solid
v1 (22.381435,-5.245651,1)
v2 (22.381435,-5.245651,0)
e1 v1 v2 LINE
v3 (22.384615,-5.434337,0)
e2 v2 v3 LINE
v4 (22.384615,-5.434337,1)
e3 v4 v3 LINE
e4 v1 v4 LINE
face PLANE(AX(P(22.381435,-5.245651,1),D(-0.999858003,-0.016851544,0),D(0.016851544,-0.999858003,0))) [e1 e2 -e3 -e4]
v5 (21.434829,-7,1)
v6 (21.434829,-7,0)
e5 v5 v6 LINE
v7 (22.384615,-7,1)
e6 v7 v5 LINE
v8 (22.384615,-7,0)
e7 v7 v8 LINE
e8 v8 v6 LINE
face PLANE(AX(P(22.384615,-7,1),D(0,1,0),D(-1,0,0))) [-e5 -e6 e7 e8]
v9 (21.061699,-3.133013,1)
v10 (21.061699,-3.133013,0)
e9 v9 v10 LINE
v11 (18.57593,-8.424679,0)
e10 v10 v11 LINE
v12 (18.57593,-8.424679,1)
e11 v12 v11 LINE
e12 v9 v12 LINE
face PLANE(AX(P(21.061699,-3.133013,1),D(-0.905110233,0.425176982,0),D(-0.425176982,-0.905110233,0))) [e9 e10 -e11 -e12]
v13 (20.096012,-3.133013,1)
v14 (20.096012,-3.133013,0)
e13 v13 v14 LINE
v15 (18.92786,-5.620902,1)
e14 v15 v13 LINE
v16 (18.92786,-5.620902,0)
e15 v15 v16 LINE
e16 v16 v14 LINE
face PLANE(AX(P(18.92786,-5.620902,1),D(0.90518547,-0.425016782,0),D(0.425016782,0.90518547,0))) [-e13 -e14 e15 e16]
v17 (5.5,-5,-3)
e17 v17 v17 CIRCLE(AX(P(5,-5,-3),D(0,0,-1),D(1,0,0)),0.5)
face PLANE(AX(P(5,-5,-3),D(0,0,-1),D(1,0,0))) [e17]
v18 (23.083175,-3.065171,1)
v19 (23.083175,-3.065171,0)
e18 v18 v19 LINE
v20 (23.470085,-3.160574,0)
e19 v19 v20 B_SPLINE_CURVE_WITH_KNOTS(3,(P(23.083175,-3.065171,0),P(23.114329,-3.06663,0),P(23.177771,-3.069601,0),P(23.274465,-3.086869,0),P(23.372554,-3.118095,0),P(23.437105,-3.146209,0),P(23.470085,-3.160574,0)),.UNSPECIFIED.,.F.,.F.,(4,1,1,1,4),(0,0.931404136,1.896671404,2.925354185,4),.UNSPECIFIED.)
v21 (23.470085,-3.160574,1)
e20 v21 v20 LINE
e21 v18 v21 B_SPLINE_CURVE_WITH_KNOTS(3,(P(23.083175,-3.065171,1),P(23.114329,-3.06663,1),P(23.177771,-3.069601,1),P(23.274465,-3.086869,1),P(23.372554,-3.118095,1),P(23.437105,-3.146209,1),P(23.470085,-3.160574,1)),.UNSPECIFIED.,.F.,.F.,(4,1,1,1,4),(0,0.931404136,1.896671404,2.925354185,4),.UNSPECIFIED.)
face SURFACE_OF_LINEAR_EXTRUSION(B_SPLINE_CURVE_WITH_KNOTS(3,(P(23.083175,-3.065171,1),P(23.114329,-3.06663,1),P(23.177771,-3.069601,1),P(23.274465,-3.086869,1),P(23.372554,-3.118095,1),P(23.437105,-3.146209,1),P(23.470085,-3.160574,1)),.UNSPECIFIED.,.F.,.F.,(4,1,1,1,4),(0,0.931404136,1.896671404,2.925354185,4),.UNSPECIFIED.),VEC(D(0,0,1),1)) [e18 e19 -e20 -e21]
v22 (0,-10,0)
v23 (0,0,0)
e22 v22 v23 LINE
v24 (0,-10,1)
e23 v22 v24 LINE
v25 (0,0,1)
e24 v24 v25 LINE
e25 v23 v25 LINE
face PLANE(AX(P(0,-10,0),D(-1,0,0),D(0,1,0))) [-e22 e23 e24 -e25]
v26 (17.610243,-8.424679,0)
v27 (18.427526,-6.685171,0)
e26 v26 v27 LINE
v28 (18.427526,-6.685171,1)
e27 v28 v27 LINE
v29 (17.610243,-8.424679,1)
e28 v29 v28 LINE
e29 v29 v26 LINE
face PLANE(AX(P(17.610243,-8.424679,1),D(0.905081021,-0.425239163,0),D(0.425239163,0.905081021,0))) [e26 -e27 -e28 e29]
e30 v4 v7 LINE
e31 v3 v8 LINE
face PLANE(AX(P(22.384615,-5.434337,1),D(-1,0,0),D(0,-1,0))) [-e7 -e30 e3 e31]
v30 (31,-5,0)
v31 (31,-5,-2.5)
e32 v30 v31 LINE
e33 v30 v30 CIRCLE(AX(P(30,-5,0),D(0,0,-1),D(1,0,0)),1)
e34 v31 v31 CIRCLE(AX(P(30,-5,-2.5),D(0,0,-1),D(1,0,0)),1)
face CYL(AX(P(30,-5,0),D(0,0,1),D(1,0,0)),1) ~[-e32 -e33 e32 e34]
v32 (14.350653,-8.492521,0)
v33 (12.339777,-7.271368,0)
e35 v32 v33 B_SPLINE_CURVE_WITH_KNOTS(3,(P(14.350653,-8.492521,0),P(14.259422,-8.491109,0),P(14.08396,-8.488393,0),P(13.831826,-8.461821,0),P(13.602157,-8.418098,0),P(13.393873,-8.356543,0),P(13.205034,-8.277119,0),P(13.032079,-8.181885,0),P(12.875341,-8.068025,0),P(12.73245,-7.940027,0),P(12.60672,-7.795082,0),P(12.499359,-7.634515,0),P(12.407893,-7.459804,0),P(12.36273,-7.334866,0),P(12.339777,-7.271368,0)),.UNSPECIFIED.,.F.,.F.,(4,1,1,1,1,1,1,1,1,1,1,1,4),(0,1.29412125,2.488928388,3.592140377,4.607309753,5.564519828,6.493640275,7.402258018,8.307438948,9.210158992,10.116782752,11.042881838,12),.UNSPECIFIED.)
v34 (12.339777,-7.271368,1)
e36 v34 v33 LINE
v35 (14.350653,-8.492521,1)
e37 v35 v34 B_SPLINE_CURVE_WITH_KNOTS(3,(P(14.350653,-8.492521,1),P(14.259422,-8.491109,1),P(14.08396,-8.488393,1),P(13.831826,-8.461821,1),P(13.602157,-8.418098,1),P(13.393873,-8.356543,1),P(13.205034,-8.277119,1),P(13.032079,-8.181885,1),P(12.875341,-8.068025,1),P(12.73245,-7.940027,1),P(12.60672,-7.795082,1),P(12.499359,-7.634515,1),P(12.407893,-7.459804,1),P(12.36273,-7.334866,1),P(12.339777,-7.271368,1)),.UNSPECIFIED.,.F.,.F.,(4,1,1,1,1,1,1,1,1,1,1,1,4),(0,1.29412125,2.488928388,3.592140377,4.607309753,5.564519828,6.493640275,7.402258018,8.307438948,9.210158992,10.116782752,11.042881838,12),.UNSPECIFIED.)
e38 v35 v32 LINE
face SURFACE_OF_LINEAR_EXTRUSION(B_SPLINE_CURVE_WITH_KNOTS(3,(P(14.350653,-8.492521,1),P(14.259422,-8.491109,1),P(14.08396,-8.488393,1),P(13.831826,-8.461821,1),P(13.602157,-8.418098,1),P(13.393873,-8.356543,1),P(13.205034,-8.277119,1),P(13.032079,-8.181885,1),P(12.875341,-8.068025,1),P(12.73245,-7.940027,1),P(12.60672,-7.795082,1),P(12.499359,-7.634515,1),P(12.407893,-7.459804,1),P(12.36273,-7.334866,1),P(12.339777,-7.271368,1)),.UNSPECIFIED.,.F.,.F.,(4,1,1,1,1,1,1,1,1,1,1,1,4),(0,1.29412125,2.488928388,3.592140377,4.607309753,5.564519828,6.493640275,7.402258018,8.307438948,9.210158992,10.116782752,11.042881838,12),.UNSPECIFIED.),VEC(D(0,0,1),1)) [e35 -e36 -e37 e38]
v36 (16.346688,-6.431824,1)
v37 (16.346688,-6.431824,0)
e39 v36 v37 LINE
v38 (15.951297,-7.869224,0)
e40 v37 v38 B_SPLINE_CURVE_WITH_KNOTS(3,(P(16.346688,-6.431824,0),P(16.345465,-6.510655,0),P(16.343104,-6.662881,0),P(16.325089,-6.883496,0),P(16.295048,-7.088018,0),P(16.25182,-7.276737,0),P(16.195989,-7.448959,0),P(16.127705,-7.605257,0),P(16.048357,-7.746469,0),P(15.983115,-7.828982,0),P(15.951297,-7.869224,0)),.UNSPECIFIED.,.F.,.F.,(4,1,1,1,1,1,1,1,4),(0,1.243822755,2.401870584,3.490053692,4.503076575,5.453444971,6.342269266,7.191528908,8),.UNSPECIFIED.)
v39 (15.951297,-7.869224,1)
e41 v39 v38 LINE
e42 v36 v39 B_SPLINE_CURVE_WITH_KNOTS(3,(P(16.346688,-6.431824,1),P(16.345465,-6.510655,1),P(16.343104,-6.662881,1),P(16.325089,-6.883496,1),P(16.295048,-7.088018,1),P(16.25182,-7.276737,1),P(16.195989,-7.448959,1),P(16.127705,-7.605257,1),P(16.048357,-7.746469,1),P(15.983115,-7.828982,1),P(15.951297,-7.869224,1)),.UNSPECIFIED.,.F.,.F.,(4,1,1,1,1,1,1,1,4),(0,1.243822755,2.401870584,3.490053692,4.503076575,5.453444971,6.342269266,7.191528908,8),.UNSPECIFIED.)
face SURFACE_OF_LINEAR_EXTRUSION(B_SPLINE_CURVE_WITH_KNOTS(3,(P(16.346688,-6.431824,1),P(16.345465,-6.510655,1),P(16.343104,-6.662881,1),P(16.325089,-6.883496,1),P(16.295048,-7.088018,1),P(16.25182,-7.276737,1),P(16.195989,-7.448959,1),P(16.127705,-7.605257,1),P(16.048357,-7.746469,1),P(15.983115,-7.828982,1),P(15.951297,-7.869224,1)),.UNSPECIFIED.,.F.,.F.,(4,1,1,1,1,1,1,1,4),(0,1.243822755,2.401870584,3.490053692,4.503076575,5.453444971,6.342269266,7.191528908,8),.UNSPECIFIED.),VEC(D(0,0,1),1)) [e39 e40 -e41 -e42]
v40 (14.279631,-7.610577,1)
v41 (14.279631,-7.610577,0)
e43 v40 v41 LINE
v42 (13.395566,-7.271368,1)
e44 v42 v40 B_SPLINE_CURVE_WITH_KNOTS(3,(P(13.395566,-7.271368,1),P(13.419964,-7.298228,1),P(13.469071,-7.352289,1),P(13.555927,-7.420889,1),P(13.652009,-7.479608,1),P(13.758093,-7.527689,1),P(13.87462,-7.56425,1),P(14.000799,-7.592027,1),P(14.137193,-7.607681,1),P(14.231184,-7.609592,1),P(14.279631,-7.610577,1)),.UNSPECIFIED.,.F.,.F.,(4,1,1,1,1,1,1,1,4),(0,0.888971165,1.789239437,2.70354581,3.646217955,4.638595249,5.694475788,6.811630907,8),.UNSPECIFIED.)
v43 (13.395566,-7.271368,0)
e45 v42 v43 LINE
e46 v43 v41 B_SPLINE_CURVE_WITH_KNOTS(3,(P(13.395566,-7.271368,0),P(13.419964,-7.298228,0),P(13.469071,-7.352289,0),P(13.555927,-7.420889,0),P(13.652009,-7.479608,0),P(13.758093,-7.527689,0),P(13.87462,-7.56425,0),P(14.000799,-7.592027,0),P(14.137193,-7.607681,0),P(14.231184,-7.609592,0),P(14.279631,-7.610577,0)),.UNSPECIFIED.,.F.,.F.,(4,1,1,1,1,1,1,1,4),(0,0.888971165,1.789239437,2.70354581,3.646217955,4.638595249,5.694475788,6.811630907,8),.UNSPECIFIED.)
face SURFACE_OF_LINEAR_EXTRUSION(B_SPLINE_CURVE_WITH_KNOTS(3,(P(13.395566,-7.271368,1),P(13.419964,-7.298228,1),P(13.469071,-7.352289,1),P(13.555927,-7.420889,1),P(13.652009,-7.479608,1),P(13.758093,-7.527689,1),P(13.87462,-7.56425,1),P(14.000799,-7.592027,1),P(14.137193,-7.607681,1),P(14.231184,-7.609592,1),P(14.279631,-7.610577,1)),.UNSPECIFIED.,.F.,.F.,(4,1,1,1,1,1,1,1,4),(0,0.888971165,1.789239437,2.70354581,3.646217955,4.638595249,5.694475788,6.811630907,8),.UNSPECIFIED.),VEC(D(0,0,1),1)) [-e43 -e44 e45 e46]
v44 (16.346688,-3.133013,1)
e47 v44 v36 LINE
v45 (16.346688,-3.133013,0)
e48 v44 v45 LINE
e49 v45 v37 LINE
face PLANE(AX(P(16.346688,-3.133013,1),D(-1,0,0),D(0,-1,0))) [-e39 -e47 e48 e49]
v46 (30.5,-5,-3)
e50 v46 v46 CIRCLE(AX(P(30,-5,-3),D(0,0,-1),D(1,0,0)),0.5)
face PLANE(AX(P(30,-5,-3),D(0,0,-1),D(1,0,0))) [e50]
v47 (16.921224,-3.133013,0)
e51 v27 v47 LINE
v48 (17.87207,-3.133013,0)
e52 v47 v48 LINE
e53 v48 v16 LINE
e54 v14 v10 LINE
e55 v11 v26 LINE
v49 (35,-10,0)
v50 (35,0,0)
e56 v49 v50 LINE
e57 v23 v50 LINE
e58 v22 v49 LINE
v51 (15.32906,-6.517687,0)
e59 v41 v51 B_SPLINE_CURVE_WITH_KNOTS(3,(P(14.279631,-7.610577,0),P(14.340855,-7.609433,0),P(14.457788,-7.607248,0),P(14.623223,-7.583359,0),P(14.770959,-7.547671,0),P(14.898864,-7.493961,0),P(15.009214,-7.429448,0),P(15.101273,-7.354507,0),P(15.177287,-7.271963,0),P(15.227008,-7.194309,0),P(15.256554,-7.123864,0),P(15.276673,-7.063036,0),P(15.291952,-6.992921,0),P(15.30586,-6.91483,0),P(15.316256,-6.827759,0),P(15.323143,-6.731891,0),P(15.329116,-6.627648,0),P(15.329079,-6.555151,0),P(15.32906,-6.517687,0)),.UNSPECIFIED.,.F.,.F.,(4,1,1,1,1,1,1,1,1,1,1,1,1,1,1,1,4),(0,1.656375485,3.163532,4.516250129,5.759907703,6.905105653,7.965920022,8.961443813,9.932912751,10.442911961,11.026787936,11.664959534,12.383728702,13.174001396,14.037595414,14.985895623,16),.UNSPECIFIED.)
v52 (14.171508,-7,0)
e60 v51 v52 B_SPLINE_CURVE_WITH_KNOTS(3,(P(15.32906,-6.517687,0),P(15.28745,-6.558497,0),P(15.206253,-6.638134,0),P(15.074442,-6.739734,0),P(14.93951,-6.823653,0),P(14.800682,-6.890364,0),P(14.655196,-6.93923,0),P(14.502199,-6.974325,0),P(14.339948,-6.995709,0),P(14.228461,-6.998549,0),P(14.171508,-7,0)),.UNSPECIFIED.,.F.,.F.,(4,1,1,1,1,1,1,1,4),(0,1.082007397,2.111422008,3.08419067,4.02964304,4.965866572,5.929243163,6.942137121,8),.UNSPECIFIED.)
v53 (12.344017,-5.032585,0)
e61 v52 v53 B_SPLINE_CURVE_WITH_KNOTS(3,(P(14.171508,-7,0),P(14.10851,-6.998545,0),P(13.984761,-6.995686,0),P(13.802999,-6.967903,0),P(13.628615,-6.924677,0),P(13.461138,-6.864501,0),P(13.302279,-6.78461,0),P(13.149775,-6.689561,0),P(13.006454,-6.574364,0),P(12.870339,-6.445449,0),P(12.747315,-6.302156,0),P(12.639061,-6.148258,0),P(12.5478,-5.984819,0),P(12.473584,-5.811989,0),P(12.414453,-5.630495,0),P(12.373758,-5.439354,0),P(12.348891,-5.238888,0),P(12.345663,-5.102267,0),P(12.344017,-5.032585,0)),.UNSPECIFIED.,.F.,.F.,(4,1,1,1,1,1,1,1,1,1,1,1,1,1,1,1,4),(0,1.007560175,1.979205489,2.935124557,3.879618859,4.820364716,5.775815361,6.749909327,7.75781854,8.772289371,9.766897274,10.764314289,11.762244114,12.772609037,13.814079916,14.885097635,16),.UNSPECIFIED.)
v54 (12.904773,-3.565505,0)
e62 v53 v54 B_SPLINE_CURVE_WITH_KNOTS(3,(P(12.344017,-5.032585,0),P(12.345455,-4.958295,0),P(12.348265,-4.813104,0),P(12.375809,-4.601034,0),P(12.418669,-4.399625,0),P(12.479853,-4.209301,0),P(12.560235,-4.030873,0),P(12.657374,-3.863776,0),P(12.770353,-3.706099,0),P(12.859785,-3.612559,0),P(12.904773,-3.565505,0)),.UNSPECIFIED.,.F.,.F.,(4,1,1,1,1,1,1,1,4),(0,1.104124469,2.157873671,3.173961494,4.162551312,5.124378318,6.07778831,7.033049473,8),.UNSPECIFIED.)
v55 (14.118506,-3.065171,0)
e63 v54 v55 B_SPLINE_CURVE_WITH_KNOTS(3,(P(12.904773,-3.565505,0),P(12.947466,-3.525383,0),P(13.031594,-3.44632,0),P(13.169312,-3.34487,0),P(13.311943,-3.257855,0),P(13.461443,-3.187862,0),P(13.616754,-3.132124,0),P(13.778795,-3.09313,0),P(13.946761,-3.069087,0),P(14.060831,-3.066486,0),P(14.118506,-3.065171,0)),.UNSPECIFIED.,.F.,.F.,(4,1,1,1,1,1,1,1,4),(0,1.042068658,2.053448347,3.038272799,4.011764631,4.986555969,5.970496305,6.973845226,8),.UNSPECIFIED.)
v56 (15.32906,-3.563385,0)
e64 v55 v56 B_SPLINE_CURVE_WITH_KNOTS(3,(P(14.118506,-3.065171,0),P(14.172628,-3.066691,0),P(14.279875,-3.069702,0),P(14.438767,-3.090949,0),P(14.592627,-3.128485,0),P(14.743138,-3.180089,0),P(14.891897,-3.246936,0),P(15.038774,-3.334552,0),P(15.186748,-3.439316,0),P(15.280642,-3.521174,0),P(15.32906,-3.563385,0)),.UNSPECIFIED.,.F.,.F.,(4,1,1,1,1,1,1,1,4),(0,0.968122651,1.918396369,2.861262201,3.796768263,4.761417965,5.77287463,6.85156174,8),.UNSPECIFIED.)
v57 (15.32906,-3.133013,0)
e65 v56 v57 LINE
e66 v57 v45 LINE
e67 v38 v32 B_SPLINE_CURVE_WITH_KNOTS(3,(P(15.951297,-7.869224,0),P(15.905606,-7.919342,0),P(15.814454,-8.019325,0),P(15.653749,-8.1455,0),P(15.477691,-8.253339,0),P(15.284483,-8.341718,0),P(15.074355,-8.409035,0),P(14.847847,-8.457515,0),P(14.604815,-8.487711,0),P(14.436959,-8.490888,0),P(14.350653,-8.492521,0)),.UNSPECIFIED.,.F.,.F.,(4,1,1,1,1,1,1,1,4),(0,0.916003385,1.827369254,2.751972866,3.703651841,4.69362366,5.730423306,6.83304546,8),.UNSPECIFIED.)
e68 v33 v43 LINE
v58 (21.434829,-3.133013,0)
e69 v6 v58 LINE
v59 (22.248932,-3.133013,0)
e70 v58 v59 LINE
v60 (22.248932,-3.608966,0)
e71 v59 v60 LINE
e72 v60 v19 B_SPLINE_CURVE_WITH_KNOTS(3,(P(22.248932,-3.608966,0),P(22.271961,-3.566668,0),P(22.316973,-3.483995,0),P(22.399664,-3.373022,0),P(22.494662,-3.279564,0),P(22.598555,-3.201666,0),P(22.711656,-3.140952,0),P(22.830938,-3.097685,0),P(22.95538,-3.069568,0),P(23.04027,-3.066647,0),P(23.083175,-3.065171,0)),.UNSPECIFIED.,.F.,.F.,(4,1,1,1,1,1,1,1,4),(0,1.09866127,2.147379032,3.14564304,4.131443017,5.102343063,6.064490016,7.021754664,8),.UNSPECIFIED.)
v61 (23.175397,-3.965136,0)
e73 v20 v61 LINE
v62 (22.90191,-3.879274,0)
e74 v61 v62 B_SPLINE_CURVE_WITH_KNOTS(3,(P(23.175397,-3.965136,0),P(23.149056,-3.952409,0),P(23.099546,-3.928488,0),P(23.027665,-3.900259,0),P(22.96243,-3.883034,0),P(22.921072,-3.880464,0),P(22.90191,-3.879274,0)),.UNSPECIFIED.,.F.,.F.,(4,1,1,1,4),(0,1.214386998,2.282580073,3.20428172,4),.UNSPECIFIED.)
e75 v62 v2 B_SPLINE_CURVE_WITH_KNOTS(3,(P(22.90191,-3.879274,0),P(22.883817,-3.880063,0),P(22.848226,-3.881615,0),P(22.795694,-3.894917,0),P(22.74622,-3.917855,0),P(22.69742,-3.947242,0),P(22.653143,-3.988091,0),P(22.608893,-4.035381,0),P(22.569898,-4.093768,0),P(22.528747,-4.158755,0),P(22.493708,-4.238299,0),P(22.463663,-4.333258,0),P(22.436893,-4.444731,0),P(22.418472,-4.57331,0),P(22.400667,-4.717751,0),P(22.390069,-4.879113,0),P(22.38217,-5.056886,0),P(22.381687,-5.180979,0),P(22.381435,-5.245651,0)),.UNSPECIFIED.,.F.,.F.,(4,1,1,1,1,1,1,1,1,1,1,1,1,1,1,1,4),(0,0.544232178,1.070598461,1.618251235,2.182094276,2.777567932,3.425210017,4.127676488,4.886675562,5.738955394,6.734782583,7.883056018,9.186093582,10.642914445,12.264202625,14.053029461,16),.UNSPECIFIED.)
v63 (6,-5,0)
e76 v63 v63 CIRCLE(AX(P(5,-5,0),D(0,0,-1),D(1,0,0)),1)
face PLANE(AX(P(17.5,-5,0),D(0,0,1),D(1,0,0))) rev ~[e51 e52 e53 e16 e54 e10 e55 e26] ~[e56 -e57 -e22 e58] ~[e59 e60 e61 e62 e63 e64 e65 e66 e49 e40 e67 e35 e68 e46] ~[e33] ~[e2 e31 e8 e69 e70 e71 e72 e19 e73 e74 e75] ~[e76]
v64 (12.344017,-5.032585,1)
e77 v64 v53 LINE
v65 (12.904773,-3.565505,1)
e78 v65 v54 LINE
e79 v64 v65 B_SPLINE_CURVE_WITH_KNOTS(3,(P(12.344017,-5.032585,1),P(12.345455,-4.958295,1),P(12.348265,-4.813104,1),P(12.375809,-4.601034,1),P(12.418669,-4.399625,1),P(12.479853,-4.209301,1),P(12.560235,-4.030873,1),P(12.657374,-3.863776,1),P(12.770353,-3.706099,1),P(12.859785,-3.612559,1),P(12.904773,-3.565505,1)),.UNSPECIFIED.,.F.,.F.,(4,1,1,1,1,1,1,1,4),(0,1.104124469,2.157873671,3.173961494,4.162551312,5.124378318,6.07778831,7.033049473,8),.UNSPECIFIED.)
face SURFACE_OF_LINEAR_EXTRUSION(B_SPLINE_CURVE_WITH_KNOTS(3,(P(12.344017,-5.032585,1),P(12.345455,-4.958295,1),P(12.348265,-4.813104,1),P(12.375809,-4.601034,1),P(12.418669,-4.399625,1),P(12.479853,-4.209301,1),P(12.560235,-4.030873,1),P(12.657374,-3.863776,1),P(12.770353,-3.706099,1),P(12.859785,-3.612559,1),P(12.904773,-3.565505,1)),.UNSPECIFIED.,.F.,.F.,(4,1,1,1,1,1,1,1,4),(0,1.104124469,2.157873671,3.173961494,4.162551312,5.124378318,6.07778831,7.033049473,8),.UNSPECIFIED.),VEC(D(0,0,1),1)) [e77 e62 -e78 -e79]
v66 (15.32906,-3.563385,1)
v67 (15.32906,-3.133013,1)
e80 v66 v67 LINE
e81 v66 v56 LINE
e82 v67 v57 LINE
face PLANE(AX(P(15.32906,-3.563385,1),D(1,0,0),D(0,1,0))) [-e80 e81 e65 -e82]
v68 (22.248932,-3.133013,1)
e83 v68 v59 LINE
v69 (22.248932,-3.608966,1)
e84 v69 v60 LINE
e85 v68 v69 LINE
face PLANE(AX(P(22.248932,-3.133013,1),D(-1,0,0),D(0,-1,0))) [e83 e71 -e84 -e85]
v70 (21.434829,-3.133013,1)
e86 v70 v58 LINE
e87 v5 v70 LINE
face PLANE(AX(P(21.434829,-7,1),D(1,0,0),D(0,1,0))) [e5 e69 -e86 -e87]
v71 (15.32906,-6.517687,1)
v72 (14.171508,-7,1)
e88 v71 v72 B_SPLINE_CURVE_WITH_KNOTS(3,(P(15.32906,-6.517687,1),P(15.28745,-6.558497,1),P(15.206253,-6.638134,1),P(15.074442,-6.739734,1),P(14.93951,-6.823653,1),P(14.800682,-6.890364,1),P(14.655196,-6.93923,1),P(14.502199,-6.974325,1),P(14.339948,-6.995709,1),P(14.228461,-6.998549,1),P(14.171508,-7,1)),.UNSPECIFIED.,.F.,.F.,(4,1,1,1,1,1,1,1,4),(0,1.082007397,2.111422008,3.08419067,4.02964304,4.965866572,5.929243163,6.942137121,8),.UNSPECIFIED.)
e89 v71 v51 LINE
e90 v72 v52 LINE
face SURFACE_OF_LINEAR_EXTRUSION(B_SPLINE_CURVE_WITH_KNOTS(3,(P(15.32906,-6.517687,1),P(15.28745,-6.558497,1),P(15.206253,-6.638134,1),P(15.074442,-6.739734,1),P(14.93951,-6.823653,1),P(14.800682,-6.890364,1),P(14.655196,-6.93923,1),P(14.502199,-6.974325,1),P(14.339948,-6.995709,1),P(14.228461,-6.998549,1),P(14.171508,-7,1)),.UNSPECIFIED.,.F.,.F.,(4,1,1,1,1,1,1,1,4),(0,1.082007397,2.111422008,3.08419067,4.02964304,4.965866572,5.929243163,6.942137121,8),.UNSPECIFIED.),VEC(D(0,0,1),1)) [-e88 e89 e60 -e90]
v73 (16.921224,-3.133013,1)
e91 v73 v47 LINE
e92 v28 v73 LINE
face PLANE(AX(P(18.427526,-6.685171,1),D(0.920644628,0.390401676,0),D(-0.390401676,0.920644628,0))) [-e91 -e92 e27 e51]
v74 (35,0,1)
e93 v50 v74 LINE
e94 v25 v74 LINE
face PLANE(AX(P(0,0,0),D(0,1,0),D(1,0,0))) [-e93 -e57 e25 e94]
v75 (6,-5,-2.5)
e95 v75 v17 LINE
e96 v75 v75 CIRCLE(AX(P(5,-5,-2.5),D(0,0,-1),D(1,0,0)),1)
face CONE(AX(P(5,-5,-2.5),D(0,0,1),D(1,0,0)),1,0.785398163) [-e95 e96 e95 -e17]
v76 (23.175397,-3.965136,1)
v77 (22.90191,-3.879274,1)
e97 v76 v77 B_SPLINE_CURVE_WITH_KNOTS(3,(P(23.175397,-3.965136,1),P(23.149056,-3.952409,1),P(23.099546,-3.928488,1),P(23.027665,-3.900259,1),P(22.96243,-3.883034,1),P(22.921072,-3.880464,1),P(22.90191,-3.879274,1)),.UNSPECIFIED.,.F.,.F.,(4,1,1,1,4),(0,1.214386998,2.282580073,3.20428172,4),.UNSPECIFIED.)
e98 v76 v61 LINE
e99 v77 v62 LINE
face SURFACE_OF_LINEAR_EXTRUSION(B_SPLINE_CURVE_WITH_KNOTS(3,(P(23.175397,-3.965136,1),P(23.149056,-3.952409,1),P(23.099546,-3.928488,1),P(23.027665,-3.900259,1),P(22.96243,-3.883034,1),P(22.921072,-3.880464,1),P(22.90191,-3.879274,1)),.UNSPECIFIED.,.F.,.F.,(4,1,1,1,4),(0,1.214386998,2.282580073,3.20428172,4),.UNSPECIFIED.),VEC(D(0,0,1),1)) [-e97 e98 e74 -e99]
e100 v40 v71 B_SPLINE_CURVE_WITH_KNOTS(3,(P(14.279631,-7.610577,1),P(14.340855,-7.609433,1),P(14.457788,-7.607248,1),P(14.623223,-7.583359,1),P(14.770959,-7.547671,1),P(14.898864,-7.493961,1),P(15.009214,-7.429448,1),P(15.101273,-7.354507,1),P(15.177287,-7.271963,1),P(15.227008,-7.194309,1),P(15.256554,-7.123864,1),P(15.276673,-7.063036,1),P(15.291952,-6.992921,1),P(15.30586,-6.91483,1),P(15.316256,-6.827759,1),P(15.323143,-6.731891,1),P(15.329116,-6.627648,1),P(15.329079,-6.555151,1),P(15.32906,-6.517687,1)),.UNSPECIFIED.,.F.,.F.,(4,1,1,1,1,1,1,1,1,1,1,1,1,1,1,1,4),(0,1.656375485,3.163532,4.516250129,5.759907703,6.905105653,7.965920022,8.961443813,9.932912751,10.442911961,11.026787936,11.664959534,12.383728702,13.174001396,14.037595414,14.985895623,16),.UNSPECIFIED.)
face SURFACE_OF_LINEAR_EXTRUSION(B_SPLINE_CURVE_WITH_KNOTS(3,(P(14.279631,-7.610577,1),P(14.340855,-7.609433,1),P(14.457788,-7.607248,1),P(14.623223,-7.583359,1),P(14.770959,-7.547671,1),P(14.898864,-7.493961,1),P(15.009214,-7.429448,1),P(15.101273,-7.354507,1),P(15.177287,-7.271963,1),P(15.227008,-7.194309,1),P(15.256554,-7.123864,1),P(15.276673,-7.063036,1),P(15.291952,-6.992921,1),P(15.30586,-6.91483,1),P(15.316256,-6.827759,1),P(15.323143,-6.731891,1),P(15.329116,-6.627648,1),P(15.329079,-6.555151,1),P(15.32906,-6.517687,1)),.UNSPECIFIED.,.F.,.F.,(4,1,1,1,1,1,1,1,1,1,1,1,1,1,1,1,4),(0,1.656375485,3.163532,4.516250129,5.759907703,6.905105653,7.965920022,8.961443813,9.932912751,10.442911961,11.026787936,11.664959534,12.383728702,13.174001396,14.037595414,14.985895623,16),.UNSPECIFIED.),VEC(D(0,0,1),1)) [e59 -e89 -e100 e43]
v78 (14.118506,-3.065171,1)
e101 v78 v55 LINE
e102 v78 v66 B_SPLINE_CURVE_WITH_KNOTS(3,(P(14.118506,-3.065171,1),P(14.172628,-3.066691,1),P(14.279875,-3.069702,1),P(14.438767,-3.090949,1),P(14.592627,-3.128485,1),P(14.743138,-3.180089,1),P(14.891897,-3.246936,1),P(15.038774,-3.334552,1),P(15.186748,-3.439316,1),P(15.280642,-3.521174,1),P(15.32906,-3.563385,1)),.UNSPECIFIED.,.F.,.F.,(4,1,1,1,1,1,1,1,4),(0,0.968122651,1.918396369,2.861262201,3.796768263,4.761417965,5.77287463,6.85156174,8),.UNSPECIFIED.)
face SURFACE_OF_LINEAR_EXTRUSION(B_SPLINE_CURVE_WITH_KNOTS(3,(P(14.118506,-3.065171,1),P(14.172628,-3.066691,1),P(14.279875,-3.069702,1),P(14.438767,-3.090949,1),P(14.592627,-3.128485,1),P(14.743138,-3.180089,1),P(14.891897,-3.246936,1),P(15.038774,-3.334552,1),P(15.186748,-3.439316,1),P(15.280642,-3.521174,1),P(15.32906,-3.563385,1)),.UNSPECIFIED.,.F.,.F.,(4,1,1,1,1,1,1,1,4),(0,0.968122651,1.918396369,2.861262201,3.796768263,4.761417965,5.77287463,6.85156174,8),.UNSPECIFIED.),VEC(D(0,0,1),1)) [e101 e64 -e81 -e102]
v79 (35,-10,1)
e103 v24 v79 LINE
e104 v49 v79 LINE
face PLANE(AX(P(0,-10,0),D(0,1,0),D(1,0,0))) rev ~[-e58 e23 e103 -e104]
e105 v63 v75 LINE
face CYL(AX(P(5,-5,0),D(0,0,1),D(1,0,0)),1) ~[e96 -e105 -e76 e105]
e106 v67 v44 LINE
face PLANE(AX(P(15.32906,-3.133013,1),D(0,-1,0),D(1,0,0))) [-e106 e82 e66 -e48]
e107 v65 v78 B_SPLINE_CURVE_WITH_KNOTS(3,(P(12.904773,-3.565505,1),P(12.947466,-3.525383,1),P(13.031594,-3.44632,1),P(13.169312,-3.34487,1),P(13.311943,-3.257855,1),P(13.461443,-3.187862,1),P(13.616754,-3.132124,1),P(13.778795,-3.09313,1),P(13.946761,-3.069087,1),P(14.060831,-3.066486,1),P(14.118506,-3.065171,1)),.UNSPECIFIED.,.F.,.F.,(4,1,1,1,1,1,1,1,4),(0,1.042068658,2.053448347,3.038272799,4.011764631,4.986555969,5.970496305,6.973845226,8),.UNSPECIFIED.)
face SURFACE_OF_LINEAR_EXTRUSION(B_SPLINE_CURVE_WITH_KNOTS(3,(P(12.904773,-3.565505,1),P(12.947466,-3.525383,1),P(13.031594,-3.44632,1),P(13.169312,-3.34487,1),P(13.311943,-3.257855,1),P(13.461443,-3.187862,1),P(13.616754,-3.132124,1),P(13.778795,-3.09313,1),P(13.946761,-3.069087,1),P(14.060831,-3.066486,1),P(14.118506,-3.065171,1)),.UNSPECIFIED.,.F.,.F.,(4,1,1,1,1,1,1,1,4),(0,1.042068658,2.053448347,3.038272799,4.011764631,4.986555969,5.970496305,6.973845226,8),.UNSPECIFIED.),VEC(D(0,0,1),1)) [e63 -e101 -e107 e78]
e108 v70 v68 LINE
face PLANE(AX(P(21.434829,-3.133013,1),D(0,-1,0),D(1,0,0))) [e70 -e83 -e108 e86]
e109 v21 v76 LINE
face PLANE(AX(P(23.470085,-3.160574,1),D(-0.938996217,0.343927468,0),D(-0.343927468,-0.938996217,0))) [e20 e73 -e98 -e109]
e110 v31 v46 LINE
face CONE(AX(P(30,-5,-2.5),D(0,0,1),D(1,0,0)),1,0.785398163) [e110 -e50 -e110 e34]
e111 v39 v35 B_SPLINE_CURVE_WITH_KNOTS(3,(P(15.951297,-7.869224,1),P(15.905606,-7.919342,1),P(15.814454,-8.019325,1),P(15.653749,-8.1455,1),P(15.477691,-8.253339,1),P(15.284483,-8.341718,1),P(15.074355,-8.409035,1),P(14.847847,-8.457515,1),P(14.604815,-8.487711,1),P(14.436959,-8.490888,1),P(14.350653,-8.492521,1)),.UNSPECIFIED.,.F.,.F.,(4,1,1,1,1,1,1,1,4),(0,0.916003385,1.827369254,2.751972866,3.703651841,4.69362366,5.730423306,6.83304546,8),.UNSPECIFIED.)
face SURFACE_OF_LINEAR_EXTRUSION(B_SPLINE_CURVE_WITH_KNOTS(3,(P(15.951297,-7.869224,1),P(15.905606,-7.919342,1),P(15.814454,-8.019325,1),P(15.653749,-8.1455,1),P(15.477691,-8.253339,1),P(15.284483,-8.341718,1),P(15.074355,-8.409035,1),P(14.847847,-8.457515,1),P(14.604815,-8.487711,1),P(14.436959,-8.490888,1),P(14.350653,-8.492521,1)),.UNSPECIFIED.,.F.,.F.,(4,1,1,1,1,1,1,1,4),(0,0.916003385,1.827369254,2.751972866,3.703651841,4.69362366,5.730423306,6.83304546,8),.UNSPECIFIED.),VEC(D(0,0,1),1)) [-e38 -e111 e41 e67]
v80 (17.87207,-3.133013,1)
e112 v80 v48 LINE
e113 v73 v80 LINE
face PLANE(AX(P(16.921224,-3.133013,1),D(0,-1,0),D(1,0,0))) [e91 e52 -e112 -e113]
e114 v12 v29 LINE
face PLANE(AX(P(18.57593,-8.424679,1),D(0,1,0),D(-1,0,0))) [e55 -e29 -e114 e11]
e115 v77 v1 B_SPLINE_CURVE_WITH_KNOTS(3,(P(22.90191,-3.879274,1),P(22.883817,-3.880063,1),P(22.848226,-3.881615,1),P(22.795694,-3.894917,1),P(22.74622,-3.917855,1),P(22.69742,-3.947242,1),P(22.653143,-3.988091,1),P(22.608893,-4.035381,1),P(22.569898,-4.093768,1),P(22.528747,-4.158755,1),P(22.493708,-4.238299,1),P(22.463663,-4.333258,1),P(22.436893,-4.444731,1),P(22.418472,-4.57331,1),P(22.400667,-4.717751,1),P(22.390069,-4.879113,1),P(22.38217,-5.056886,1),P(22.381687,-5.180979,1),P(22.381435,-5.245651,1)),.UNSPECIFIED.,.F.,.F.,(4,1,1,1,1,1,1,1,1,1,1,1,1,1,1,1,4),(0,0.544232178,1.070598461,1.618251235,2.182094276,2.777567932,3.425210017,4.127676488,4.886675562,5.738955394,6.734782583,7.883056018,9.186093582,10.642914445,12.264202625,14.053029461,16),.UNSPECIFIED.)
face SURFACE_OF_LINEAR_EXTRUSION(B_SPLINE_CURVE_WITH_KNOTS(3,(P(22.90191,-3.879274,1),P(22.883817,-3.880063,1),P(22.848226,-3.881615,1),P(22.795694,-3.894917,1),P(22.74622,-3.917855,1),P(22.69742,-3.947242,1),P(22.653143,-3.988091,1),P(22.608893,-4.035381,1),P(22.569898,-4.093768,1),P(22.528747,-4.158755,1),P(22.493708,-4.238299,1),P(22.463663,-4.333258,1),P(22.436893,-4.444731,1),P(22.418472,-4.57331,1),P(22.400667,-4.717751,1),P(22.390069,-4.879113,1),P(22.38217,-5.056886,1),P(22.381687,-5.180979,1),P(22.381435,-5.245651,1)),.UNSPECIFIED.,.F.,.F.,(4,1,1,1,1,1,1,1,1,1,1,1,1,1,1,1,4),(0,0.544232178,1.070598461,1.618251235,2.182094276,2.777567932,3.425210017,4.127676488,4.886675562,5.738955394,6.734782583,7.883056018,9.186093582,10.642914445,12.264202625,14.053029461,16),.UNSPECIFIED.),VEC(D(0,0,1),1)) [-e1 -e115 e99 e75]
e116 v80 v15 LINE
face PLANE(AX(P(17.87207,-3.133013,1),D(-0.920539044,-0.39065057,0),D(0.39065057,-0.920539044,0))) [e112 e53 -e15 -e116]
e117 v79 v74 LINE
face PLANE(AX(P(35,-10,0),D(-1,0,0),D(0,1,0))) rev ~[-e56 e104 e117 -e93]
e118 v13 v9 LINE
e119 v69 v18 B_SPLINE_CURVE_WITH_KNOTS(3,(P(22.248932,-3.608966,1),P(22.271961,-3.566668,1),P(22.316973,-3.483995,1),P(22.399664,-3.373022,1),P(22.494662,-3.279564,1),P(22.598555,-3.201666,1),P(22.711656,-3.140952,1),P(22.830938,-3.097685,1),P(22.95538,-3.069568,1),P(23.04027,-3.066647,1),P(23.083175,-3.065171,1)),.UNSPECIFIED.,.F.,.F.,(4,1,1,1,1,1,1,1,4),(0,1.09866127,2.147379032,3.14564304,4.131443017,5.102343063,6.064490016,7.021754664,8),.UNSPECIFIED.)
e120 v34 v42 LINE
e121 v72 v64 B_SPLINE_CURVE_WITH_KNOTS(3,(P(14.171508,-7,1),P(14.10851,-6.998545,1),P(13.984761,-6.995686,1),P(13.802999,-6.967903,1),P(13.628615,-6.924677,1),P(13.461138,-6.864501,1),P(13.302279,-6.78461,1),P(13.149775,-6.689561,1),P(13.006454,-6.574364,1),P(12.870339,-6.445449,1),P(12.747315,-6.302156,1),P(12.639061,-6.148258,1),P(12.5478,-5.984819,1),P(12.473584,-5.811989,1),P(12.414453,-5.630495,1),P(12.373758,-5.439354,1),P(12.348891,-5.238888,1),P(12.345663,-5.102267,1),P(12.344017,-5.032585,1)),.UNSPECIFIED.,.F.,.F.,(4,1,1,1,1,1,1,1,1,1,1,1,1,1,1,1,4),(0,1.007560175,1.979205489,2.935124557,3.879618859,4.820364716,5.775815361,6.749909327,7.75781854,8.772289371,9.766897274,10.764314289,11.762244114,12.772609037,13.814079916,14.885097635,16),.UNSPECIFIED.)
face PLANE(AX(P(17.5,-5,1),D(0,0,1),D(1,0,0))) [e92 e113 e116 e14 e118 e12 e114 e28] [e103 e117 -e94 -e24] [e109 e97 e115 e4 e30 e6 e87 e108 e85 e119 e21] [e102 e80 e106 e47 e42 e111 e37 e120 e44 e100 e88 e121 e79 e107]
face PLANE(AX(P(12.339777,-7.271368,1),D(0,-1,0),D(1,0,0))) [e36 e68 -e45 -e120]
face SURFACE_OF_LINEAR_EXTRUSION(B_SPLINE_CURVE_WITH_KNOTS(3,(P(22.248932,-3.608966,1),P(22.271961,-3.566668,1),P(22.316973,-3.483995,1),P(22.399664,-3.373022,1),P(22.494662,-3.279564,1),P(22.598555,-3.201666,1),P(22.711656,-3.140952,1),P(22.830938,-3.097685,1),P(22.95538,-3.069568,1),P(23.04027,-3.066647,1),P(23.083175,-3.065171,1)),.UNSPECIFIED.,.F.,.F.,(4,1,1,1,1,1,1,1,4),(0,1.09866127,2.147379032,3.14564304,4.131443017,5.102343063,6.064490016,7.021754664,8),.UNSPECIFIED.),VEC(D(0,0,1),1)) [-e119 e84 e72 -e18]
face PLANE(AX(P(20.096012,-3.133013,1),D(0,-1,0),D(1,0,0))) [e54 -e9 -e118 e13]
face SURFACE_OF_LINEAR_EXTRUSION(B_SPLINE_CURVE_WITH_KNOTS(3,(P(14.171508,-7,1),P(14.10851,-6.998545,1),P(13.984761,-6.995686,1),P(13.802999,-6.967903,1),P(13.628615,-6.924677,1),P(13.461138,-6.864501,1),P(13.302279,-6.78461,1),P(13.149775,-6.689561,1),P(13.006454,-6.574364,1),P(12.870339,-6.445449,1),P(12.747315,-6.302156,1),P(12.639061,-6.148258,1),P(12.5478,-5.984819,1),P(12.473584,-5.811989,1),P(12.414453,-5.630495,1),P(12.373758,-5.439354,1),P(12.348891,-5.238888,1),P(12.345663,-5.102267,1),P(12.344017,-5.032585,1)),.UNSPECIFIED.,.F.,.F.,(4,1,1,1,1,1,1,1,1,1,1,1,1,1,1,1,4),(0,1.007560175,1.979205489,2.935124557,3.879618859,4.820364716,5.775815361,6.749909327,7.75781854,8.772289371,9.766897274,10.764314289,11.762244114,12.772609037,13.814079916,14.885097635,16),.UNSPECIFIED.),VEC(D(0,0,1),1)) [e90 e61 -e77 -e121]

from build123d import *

# Parameters (mm, degrees)
ESQUISSE1_W             = 35
ESQUISSE1_H             = 10
BOSS_EXTRU_1_DEPTH      = 1
ESQUISSE2_R             = 1
BOSS_EXTRU_2_DEPTH      = 3
CHANFREIN1_SIZE         = 0.5
ENL_V_MAT_EXTRU_2_DEPTH = 1


with BuildPart() as part:
    # Esquisse1 → Boss.-Extru.1 (new body)
    with BuildSketch(Plane.XY):
        with Locations((17.5, -5)):
            Rectangle(ESQUISSE1_W, ESQUISSE1_H)
    extrude(amount=BOSS_EXTRU_1_DEPTH)

    # Esquisse2 → Boss.-Extru.2 (add)
    with BuildSketch(Plane(origin=(0, 0, 0), x_dir=(-1, 0, 0), z_dir=(0, 0, -1))):
        with Locations(Location((-30, -5, 0), (0, 0, 180))):  # turned: the seam where the file's is
            Circle(ESQUISSE2_R)
        with Locations(Location((-5, -5, 0), (0, 0, 180))):  # turned: the seam where the file's is
            Circle(ESQUISSE2_R)
    extrude(amount=BOSS_EXTRU_2_DEPTH)

    # Chanfrein1
    chanfrein1_edges = [part.edges().sort_by_distance(p)[0] for p in [
        (29, -5, -3),
        (4, -5, -3),
    ]]
    chamfer(chanfrein1_edges, length=CHANFREIN1_SIZE)

    # Esquisse3 → Enlèv. mat.-Extru.2 (cut)
    with BuildSketch(Plane.XY.offset(1)):
        with BuildLine():
            Line((15.329059829, -3.133012821), (16.346688034, -3.133012821))
            Line((16.346688034, -3.133012821), (16.346688034, -6.431824252))
            add(Edge.make_bspline(
                [(16.346688034, -6.431824252), (16.34546511, -6.510655339), (16.343103596, -6.662881264), (16.325089291, -6.883495949), (16.295048115, -7.088017896), (16.251819923, -7.276736757), (16.195988635, -7.4489589), (16.127704852, -7.605256879), (16.048356925, -7.746468877), (15.983115267, -7.828982437), (15.951297075, -7.869224092)],
                knots=[0, 0, 0, 0, 1.243822755, 2.401870584, 3.490053692, 4.503076575, 5.453444971, 6.342269266, 7.191528908, 8, 8, 8, 8], degree=3))
            add(Edge.make_bspline(
                [(15.951297075, -7.869224092), (15.905605713, -7.919342306), (15.814454312, -8.019324999), (15.653749283, -8.145499618), (15.477691005, -8.253338799), (15.284482771, -8.341718176), (15.074354715, -8.409035067), (14.847846635, -8.457515225), (14.604814931, -8.487710952), (14.436959436, -8.490887878), (14.350652711, -8.492521368)],
                knots=[0, 0, 0, 0, 0.916003385, 1.827369254, 2.751972866, 3.703651841, 4.69362366, 5.730423306, 6.83304546, 8, 8, 8, 8], degree=3))
            add(Edge.make_bspline(
                [(14.350652711, -8.492521368), (14.259421509, -8.491108999), (14.083960416, -8.488392649), (13.831826444, -8.461820527), (13.60215669, -8.418097933), (13.39387263, -8.356542717), (13.20503379, -8.277118686), (13.032079147, -8.181884691), (12.875340855, -8.068024611), (12.732449742, -7.940027217), (12.606719722, -7.795081621), (12.49935862, -7.6345149), (12.407892543, -7.459803946), (12.362730127, -7.334865629), (12.339776976, -7.271367521)],
                knots=[0, 0, 0, 0, 1.29412125, 2.488928388, 3.592140377, 4.607309753, 5.564519828, 6.493640275, 7.402258018, 8.307438948, 9.210158992, 10.116782752, 11.042881838, 12, 12, 12, 12], degree=3))
            Line((12.339776976, -7.271367521), (13.395566239, -7.271367521))
            add(Edge.make_bspline(
                [(13.395566239, -7.271367521), (13.419964401, -7.298227571), (13.469070776, -7.35228901), (13.555926573, -7.420889314), (13.65200877, -7.47960783), (13.758092556, -7.527688831), (13.874620253, -7.564250121), (14.000798638, -7.592026884), (14.137192891, -7.607680544), (14.231183716, -7.609591785), (14.279630743, -7.610576923)],
                knots=[0, 0, 0, 0, 0.888971165, 1.789239437, 2.70354581, 3.646217955, 4.638595249, 5.694475788, 6.811630907, 8, 8, 8, 8], degree=3))
            add(Edge.make_bspline(
                [(14.279630743, -7.610576923), (14.340855044, -7.609432982), (14.457788095, -7.607248154), (14.623222566, -7.583359441), (14.770958794, -7.5476711), (14.898864132, -7.493961019), (15.009214297, -7.42944782), (15.101273205, -7.354507352), (15.177287089, -7.271963013), (15.227008123, -7.194308957), (15.256554212, -7.123864138), (15.276673336, -7.06303605), (15.291952015, -6.992920639), (15.305859644, -6.914830211), (15.316255823, -6.827758701), (15.323143424, -6.73189057), (15.329116008, -6.627648194), (15.329078969, -6.555150823), (15.329059829, -6.517686632)],
                knots=[0, 0, 0, 0, 1.656375485, 3.163532, 4.516250129, 5.759907703, 6.905105653, 7.965920022, 8.961443813, 9.932912751, 10.442911961, 11.026787936, 11.664959534, 12.383728702, 13.174001396, 14.037595414, 14.985895623, 16, 16, 16, 16], degree=3))
            add(Edge.make_bspline(
                [(15.329059829, -6.517686632), (15.287449979, -6.55849698), (15.206252796, -6.638134021), (15.074441855, -6.739733739), (14.939510017, -6.823652606), (14.800681847, -6.89036443), (14.655196371, -6.939229664), (14.502199099, -6.974324949), (14.339947583, -6.995709064), (14.228461376, -6.99854913), (14.171507746, -7)],
                knots=[0, 0, 0, 0, 1.082007397, 2.111422008, 3.08419067, 4.02964304, 4.965866572, 5.929243163, 6.942137121, 8, 8, 8, 8], degree=3))
            add(Edge.make_bspline(
                [(14.171507746, -7), (14.108510402, -6.998544642), (13.984761279, -6.995685803), (13.802999283, -6.967903474), (13.628614811, -6.92467688), (13.461138298, -6.864501419), (13.302278657, -6.784609692), (13.149775257, -6.689560821), (13.006454432, -6.574363867), (12.870338898, -6.445449499), (12.747314548, -6.302155537), (12.639060729, -6.148258015), (12.547800043, -5.984818516), (12.473584153, -5.811988974), (12.414453061, -5.63049492), (12.373758282, -5.439353789), (12.348890609, -5.238888314), (12.345663197, -5.102267354), (12.344017094, -5.03258547)],
                knots=[0, 0, 0, 0, 1.007560175, 1.979205489, 2.935124557, 3.879618859, 4.820364716, 5.775815361, 6.749909327, 7.75781854, 8.772289371, 9.766897274, 10.764314289, 11.762244114, 12.772609037, 13.814079916, 14.885097635, 16, 16, 16, 16], degree=3))
            add(Edge.make_bspline(
                [(12.344017094, -5.03258547), (12.345454802, -4.958295142), (12.348264622, -4.813103955), (12.375808883, -4.601033686), (12.418669084, -4.399625491), (12.479853148, -4.209300672), (12.560235277, -4.030872859), (12.657373865, -3.863775883), (12.770352577, -3.706098926), (12.859784665, -3.612559125), (12.904772636, -3.565504808)],
                knots=[0, 0, 0, 0, 1.104124469, 2.157873671, 3.173961494, 4.162551312, 5.124378318, 6.07778831, 7.033049473, 8, 8, 8, 8], degree=3))
            add(Edge.make_bspline(
                [(12.904772636, -3.565504808), (12.947465572, -3.525382692), (13.031594135, -3.446320058), (13.169312331, -3.344869576), (13.311943127, -3.257855372), (13.461442861, -3.187862255), (13.616753673, -3.132123568), (13.778795018, -3.093129933), (13.946761183, -3.069087357), (14.06083064, -3.066486156), (14.118506277, -3.06517094)],
                knots=[0, 0, 0, 0, 1.042068658, 2.053448347, 3.038272799, 4.011764631, 4.986555969, 5.970496305, 6.973845226, 8, 8, 8, 8], degree=3))
            add(Edge.make_bspline(
                [(14.118506277, -3.06517094), (14.172628334, -3.066690669), (14.279874619, -3.069702107), (14.438767019, -3.090949078), (14.592626627, -3.128484935), (14.743138098, -3.180088848), (14.891896731, -3.24693584), (15.038773976, -3.334551701), (15.186747723, -3.439315509), (15.280642236, -3.521173765), (15.329059829, -3.563384749)],
                knots=[0, 0, 0, 0, 0.968122651, 1.918396369, 2.861262201, 3.796768263, 4.761417965, 5.77287463, 6.85156174, 8, 8, 8, 8], degree=3))
            Line((15.329059829, -3.563384749), (15.329059829, -3.133012821))
        make_face()
        Polygon((16.921223958, -3.133012821), (17.872070313, -3.133012821), (18.927859575, -5.620901776), (20.096011952, -3.133012821), (21.061698718, -3.133012821), (18.575929821, -8.424679487), (17.610243056, -8.424679487), (18.427525708, -6.685171274), align=None)
        with BuildLine():
            Line((21.43482906, -3.133012821), (22.248931624, -3.133012821))
            Line((22.248931624, -3.133012821), (22.248931624, -3.608966012))
            add(Edge.make_bspline(
                [(22.248931624, -3.608966012), (22.271961023, -3.566667921), (22.316972938, -3.483994547), (22.399663601, -3.373021915), (22.494661984, -3.27956386), (22.598554501, -3.201665623), (22.71165603, -3.140951595), (22.830937914, -3.097685197), (22.955379698, -3.069568033), (23.040269665, -3.066647192), (23.083174746, -3.06517094)],
                knots=[0, 0, 0, 0, 1.09866127, 2.147379032, 3.14564304, 4.131443017, 5.102343063, 6.064490016, 7.021754664, 8, 8, 8, 8], degree=3))
            add(Edge.make_bspline(
                [(23.083174746, -3.06517094), (23.114329189, -3.066629785), (23.177770759, -3.069600514), (23.27446464, -3.086869409), (23.372553644, -3.118094854), (23.43710466, -3.146209218), (23.47008547, -3.160573584)],
                knots=[0, 0, 0, 0, 0.931404136, 1.896671404, 2.925354185, 4, 4, 4, 4], degree=3))
            Line((23.47008547, -3.160573584), (23.175397302, -3.965135884))
            add(Edge.make_bspline(
                [(23.175397302, -3.965135884), (23.149056388, -3.952409228), (23.09954561, -3.928488014), (23.027664556, -3.900258516), (22.96242952, -3.883034257), (22.921071704, -3.880464246), (22.901909722, -3.879273504)],
                knots=[0, 0, 0, 0, 1.214386998, 2.282580073, 3.20428172, 4, 4, 4, 4], degree=3))
            add(Edge.make_bspline(
                [(22.901909722, -3.879273504), (22.883817085, -3.880062553), (22.848225749, -3.881614748), (22.795693934, -3.894916529), (22.746219903, -3.917855038), (22.697419506, -3.947241545), (22.653142553, -3.988090988), (22.608892949, -4.03538147), (22.569897828, -4.093767862), (22.528746666, -4.15875488), (22.493707924, -4.238298932), (22.463663281, -4.333258138), (22.436893263, -4.444731242), (22.418471836, -4.57331011), (22.400666787, -4.717750521), (22.390068784, -4.879112649), (22.382169959, -5.056886251), (22.381686999, -5.180978642), (22.381435296, -5.245651376)],
                knots=[0, 0, 0, 0, 0.544232178, 1.070598461, 1.618251235, 2.182094276, 2.777567932, 3.425210017, 4.127676488, 4.886675562, 5.738955394, 6.734782583, 7.883056018, 9.186093582, 10.642914445, 12.264202625, 14.053029461, 16, 16, 16, 16], degree=3))
            Line((22.381435296, -5.245651376), (22.384615385, -5.434336605))
            Line((22.384615385, -5.434336605), (22.384615385, -7))
            Line((22.384615385, -7), (21.43482906, -7))
            Line((21.43482906, -7), (21.43482906, -3.133012821))
        make_face()
    extrude(amount=-ENL_V_MAT_EXTRU_2_DEPTH, mode=Mode.SUBTRACT)


solid = part.part
